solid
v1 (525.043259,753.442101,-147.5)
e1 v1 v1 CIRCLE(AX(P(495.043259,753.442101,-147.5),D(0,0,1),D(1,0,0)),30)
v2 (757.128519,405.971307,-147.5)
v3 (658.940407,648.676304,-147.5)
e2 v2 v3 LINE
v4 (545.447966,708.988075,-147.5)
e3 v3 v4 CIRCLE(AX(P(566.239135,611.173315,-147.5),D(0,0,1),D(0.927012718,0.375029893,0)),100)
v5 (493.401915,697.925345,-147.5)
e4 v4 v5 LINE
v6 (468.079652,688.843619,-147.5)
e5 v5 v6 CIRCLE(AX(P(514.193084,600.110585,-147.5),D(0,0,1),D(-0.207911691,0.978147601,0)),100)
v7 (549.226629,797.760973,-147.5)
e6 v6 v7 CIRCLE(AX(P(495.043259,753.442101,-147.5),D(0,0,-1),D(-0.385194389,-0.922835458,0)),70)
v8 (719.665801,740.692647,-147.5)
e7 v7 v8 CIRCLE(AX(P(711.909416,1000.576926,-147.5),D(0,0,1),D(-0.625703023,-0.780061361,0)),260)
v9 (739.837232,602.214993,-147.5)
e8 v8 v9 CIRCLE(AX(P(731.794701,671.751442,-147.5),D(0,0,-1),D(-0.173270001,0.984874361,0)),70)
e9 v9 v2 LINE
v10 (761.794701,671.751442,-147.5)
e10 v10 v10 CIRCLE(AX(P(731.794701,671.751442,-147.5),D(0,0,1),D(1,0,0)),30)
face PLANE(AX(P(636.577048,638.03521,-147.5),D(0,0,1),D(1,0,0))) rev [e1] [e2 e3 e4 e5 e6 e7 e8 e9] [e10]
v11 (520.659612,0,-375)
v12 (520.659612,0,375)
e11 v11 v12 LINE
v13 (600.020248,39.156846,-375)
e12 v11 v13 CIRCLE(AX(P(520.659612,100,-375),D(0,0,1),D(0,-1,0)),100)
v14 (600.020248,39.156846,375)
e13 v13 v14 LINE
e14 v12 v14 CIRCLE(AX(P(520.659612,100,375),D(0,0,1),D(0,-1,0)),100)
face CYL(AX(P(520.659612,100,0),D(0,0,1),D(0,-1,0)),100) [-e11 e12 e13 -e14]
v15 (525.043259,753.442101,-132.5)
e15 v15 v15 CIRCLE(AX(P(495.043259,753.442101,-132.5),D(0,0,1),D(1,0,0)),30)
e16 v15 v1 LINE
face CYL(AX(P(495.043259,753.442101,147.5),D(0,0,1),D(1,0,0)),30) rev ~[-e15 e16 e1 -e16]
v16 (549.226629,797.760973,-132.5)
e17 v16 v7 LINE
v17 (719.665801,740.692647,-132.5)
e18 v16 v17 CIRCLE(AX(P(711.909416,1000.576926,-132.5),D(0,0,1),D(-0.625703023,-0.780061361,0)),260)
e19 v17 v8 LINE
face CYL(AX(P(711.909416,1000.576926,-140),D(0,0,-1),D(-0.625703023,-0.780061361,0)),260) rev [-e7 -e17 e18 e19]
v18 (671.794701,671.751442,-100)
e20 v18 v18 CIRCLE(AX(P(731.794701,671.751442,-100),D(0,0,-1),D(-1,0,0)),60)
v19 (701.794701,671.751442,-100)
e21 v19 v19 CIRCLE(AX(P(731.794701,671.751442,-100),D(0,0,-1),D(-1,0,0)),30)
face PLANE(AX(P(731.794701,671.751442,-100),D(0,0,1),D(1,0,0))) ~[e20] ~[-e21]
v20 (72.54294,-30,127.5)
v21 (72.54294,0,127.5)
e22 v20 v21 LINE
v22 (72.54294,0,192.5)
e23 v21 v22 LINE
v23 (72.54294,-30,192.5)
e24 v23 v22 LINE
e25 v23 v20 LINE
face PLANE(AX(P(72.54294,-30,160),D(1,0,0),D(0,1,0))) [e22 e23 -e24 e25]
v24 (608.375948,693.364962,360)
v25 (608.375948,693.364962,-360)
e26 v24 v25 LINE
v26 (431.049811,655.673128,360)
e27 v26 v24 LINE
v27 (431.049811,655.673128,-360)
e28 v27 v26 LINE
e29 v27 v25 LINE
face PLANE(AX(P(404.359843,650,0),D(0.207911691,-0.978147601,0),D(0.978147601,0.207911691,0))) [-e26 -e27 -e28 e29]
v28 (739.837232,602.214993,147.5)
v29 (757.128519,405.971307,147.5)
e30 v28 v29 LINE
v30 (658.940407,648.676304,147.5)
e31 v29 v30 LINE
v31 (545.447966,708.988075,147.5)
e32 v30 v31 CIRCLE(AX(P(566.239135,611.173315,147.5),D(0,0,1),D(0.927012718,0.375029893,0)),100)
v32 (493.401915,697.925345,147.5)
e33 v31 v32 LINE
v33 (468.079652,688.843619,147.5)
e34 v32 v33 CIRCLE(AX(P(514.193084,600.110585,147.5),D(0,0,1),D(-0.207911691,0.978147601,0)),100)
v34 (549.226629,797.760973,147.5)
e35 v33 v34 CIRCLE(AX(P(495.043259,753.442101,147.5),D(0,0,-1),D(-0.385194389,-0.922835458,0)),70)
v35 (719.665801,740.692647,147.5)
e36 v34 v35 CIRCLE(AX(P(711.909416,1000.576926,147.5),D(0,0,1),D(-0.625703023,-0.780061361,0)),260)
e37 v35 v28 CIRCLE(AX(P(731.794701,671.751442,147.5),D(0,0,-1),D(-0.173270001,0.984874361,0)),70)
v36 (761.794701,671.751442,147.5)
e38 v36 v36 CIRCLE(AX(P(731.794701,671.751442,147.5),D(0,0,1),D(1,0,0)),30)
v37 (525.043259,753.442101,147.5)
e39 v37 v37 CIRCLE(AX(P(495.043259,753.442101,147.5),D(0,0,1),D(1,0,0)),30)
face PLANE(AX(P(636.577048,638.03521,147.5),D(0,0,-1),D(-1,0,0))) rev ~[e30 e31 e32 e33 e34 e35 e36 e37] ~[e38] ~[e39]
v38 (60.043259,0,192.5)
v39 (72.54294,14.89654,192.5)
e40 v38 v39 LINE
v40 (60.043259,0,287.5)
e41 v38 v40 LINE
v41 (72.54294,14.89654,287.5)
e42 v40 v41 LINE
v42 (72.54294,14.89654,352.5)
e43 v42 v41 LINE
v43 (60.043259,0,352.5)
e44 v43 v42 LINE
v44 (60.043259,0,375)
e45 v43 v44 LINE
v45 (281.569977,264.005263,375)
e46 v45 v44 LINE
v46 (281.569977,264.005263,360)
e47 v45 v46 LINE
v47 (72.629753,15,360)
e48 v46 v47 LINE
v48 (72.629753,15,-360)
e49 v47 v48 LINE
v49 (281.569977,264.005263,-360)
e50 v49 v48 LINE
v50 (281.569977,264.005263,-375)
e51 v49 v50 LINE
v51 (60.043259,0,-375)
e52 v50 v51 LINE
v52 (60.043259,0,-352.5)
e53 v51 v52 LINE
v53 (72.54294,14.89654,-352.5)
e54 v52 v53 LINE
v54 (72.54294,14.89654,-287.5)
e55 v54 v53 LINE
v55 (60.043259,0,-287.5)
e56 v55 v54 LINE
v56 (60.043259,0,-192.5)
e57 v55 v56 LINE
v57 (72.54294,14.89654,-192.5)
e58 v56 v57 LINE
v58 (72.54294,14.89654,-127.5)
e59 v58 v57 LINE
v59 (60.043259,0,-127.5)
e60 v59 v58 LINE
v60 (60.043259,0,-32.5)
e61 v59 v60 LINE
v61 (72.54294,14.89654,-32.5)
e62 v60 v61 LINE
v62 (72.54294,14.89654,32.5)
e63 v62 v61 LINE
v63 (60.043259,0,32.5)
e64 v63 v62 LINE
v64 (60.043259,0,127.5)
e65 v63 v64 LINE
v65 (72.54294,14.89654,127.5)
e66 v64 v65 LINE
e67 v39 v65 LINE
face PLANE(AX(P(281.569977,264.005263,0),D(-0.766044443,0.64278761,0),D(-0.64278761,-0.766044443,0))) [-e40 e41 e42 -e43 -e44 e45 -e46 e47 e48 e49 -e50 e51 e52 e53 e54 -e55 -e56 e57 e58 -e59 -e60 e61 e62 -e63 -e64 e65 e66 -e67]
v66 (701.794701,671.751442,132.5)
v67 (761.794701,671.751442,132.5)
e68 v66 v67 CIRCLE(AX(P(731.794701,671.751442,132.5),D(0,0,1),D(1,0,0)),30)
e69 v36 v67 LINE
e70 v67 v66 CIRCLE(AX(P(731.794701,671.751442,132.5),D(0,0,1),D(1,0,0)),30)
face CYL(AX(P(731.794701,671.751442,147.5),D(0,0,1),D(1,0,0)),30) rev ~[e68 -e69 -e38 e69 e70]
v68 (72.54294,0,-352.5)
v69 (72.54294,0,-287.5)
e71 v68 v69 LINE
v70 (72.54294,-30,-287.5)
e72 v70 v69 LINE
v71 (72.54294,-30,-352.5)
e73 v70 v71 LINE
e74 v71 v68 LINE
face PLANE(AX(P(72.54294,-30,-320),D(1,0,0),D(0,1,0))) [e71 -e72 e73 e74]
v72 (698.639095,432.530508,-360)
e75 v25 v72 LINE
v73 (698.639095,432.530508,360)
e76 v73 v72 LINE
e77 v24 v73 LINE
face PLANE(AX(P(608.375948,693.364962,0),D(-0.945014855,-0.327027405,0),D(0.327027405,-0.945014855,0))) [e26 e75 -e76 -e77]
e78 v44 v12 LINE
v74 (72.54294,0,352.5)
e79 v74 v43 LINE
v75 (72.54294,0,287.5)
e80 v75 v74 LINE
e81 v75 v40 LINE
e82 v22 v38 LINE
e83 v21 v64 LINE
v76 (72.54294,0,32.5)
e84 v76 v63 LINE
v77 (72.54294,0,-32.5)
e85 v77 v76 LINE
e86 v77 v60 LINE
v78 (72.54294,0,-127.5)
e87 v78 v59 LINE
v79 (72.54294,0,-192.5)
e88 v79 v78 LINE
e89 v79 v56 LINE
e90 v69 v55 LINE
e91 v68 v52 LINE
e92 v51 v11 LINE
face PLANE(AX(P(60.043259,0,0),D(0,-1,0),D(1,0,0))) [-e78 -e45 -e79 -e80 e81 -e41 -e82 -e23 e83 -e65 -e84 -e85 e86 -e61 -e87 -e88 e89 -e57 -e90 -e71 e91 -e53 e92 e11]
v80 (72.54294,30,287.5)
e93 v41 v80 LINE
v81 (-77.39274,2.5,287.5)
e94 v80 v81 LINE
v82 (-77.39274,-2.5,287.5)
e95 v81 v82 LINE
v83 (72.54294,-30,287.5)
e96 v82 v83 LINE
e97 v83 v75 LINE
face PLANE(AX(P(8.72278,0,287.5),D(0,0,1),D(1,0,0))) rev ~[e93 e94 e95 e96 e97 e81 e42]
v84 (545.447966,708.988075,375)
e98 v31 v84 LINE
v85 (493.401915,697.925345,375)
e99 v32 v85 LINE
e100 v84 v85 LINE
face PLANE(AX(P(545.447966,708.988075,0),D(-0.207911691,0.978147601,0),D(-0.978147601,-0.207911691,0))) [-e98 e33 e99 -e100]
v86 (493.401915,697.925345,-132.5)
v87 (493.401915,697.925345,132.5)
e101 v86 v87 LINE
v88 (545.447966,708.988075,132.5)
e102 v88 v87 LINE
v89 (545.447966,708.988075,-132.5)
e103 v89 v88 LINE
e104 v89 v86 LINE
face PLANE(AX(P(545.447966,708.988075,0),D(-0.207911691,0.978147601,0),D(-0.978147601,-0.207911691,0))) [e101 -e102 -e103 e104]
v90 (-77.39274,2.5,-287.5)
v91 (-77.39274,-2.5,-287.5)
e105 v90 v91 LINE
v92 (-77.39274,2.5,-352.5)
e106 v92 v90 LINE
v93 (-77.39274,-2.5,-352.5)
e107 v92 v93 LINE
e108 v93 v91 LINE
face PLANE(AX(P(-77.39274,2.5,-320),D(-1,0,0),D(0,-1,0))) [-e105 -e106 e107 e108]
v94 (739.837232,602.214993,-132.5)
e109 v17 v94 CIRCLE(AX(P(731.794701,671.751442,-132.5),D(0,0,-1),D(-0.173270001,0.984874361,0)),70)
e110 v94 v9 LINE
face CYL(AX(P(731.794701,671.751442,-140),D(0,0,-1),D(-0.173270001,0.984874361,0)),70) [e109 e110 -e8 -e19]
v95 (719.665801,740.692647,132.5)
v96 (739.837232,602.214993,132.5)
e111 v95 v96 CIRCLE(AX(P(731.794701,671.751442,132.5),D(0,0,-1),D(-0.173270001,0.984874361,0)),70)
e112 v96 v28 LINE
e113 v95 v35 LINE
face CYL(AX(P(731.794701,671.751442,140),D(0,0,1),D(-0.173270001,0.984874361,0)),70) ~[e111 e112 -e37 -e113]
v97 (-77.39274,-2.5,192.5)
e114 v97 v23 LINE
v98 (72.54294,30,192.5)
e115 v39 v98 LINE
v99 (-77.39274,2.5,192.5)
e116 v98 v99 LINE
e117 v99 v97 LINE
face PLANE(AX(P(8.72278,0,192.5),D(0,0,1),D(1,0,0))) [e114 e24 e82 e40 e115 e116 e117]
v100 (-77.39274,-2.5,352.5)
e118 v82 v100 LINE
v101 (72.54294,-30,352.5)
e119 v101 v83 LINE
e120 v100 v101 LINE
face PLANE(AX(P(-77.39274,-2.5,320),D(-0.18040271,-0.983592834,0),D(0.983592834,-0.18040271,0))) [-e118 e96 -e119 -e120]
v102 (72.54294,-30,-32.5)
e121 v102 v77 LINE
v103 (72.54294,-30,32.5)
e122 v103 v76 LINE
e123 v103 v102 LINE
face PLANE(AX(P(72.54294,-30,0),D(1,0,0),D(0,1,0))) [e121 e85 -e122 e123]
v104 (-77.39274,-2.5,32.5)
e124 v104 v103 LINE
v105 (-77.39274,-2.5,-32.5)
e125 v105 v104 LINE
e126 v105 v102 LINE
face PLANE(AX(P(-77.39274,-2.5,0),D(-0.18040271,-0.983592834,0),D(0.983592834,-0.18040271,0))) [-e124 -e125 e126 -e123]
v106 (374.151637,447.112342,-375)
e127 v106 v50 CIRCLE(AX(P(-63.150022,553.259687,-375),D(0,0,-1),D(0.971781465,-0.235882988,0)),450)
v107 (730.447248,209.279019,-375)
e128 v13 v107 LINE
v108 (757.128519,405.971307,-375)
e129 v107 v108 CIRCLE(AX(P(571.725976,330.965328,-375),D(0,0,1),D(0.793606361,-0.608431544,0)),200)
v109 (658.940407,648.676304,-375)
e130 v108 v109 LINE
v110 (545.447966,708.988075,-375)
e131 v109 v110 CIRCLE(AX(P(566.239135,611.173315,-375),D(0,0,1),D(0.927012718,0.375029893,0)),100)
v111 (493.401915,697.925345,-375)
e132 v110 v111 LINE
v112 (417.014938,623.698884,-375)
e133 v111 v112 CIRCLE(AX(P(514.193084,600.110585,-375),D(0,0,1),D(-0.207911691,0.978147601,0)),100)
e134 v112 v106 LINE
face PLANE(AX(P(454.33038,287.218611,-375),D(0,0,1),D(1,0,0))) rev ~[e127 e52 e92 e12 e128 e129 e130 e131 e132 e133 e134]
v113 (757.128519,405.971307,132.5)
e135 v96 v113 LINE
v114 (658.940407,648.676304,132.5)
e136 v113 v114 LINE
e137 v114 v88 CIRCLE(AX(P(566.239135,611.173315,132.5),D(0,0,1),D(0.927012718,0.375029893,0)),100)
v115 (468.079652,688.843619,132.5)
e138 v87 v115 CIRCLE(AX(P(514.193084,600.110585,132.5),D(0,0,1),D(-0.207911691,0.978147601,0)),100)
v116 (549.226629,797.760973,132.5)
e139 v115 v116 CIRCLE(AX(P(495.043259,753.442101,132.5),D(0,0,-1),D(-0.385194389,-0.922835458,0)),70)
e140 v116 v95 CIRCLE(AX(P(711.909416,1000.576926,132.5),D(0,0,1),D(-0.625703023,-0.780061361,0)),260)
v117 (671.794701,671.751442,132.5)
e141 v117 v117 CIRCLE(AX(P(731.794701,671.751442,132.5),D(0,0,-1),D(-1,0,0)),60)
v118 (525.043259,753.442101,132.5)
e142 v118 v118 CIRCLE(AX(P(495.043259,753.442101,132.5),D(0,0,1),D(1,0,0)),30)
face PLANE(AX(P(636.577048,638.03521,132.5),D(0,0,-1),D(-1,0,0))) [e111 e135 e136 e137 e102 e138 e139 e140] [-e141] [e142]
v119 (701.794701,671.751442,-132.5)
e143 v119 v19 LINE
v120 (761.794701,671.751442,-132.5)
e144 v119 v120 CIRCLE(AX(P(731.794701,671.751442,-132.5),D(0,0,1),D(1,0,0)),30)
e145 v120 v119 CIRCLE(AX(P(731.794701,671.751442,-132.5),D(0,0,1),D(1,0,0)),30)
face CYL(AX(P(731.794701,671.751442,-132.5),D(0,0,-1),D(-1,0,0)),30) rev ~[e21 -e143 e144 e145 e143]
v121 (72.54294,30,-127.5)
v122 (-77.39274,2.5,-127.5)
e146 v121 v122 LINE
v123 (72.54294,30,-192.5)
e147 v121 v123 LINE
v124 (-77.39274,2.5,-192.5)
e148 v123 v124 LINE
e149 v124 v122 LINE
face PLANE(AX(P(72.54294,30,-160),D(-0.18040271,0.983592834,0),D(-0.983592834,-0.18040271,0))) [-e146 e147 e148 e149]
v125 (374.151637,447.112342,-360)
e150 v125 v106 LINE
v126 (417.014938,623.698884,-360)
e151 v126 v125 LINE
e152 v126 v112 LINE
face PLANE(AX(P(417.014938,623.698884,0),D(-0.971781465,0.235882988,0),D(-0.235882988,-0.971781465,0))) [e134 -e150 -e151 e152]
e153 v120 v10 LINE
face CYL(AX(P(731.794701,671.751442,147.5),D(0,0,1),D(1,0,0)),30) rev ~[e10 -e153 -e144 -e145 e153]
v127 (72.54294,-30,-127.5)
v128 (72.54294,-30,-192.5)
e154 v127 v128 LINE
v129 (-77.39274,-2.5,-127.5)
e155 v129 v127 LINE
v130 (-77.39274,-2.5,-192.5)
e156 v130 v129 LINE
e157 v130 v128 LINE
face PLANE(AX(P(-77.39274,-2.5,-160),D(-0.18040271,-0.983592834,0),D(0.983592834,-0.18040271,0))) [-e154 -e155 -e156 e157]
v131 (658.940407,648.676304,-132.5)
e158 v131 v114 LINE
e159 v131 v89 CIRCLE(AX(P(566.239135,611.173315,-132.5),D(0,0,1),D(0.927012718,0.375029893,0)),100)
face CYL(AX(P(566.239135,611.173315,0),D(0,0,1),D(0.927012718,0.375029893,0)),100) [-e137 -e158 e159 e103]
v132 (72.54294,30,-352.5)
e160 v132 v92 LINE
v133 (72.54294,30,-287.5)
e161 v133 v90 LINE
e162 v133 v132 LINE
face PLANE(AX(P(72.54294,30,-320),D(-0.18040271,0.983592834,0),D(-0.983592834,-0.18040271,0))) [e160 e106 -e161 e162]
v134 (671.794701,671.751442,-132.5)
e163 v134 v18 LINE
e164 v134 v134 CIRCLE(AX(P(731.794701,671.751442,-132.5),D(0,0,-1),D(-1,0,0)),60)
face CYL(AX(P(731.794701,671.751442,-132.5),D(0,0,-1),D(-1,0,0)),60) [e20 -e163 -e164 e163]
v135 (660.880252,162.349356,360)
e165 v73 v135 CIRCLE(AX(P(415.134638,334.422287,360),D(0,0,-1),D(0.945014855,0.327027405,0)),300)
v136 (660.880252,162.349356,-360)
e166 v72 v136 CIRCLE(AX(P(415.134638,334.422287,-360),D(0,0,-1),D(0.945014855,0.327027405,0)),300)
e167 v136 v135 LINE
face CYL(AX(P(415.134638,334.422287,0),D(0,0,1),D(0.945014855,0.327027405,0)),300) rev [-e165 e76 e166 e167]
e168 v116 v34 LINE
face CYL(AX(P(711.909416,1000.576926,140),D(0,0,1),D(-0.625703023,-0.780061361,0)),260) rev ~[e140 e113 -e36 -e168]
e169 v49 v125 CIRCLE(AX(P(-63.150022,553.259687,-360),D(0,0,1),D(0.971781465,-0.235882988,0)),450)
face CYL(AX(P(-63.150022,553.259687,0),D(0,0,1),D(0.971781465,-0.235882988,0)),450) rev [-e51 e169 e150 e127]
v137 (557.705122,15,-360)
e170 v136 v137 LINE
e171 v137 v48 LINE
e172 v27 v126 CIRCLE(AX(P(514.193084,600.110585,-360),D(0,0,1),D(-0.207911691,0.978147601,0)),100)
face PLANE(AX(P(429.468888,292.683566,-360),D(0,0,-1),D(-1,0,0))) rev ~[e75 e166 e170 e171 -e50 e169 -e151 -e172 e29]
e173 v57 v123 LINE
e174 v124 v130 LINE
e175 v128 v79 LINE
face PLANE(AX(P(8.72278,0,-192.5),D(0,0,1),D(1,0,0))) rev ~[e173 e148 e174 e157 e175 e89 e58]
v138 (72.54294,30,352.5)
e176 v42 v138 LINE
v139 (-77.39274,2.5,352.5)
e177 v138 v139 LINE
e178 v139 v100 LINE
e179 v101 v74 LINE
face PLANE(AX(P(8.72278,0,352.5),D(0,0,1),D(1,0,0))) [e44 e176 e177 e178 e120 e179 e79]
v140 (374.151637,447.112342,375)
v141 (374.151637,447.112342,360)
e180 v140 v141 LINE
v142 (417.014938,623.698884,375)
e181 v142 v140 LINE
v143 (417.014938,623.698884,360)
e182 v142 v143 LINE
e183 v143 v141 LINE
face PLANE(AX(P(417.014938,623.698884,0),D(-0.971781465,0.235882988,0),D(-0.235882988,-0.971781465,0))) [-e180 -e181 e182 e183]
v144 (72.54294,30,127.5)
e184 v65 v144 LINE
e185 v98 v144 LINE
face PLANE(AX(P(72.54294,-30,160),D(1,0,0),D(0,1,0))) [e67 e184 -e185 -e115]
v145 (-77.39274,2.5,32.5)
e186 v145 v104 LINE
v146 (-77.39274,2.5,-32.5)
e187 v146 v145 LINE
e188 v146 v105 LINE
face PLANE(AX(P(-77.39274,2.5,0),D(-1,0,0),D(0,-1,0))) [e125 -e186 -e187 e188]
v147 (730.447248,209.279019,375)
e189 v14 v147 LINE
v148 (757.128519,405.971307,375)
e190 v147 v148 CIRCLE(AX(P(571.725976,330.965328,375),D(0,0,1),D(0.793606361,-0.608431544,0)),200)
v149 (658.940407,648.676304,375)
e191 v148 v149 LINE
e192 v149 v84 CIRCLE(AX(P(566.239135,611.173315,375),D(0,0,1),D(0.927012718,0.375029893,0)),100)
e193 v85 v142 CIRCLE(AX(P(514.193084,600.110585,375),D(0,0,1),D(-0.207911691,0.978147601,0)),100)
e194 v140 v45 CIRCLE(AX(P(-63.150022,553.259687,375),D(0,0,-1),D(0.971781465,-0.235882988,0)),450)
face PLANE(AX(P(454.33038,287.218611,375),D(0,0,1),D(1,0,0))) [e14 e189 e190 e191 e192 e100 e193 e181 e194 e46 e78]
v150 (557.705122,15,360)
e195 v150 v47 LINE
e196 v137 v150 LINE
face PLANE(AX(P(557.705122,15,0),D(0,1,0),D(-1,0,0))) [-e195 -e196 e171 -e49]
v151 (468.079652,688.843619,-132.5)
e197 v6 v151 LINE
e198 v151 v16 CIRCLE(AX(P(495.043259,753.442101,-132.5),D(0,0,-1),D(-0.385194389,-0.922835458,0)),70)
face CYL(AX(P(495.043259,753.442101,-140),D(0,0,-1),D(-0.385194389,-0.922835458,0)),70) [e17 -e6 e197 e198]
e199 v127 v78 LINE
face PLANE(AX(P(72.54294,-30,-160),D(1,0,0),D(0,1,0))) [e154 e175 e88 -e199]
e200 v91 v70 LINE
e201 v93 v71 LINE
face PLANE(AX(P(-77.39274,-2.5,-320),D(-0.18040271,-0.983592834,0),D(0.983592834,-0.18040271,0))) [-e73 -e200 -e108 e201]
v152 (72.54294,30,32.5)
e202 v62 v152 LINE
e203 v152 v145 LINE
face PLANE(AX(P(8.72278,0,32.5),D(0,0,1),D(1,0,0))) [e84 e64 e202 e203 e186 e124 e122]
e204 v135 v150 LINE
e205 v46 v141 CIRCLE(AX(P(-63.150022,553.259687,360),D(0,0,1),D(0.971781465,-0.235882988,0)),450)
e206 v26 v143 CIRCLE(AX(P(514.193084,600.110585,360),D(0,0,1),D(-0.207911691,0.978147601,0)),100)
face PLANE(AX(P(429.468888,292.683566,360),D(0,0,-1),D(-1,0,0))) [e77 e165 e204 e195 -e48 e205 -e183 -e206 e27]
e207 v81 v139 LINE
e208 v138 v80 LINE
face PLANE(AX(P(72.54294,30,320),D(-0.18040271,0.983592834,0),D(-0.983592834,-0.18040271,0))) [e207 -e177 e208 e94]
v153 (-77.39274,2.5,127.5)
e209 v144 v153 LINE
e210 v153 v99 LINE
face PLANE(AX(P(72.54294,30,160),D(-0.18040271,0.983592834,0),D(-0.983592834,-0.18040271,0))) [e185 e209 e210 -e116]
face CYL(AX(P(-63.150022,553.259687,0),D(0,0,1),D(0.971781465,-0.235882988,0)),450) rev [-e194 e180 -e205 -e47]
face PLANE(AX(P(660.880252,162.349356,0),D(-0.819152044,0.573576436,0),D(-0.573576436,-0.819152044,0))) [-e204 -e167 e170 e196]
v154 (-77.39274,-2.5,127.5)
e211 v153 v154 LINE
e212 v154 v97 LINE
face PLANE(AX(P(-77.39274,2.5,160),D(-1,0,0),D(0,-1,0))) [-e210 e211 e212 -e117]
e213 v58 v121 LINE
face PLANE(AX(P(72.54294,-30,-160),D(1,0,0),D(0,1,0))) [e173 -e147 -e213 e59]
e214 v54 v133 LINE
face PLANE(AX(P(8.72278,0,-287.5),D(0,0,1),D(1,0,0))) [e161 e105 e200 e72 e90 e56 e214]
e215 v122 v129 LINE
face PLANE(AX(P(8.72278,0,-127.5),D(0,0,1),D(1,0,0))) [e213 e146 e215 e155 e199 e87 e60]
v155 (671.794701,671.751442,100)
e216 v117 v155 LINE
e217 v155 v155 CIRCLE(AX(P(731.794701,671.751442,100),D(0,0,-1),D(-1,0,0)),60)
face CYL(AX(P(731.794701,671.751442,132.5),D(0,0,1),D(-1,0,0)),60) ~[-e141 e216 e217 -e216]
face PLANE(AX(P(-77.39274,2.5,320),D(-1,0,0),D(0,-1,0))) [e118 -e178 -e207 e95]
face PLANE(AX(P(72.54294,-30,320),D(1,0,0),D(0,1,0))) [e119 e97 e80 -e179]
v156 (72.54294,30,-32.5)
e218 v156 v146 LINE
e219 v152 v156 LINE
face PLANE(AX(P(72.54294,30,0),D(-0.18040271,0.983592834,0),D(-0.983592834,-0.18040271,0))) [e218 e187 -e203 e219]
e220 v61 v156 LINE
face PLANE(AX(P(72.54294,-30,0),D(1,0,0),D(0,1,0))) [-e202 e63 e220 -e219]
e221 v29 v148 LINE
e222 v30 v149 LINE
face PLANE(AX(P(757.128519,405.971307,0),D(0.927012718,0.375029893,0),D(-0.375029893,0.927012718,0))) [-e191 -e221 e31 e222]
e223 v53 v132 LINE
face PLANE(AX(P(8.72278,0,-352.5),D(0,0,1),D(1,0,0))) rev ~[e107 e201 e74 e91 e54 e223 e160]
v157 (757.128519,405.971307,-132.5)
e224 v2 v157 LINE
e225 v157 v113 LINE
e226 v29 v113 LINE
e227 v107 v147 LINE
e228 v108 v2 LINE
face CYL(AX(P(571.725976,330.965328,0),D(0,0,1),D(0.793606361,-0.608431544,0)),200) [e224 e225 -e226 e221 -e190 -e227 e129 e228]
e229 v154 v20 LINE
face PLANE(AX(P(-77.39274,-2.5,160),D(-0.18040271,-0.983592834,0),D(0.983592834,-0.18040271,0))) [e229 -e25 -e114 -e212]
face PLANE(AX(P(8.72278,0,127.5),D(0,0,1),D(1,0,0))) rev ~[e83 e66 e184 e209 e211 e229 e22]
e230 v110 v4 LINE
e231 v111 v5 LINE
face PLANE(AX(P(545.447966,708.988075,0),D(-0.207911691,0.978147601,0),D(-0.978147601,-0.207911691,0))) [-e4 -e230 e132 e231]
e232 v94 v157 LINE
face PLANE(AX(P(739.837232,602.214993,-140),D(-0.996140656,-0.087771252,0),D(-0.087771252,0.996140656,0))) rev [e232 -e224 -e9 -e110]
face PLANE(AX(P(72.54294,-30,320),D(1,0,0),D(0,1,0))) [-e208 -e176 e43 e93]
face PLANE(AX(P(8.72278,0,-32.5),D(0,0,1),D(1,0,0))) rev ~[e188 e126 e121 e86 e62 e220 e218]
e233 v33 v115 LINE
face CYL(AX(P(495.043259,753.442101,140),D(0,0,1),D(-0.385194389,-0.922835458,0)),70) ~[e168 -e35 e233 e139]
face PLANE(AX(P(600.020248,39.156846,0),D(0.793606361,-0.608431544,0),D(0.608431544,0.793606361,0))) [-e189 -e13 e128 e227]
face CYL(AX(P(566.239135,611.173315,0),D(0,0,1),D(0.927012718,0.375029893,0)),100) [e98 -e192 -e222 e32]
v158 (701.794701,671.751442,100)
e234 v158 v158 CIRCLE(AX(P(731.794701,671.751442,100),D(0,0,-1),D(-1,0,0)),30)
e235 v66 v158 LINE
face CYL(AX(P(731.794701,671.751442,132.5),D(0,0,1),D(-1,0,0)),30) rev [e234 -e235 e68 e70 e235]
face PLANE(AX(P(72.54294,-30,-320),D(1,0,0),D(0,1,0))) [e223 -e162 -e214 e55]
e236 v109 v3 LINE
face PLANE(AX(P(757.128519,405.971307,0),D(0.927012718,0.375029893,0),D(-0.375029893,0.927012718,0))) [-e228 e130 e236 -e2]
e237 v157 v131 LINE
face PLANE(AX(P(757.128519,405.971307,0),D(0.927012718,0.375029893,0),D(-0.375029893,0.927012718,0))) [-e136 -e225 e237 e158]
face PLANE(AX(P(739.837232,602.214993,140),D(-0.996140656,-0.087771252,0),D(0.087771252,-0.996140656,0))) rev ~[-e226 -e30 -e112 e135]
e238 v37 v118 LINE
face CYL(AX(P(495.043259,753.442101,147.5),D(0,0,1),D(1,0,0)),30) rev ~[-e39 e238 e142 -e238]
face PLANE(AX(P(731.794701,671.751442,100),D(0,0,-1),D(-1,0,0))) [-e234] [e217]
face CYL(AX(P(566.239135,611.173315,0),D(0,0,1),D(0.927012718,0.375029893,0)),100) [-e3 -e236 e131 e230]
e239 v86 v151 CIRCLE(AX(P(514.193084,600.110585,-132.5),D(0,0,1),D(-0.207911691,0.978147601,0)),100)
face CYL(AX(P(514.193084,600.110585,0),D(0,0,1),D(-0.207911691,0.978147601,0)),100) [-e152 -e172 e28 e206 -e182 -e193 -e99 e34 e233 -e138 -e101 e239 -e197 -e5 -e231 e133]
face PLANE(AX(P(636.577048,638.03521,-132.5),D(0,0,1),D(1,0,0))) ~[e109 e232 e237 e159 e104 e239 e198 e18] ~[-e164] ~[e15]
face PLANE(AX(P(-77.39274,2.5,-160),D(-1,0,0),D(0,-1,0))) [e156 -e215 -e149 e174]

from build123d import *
from build123d.topology import SkipClean

# Parameters (mm, degrees)
BOSS_EXTRUDE4_DEPTH  = 375
BOSS_EXTRUDE5_DEPTH  = 7.5
CUT_EXTRUDE1_DEPTH   = 360
BOSS_EXTRUDE6_DEPTH  = 32.5
LPATTERN1_COUNT      = 3
LPATTERN1_PITCH      = 160
LPATTERN1_COUNT_DIR2 = 3
LPATTERN1_PITCH_DIR2 = 160
SKETCH11_R           = 30
CUT_EXTRUDE2_DEPTH   = 1263.512529339
SKETCH12_R           = 60
SKETCH12_R_2         = 30
BOSS_EXTRUDE7_DEPTH  = 32.5


with BuildPart() as part:
    # Sketch1 → Boss-Extrude4 (new, symmetric)
    with BuildSketch(Plane.XY):
        with BuildLine():
            Line((281.569977344, 264.00526259), (60.043258876, 0))
            Line((60.043258876, 0), (520.65961219, 0))
            ThreePointArc((520.65961219, 0), (564.907123778, 10.321921752), (600.02024832, 39.156845634))
            Line((600.02024832, 39.156845634), (730.44724808, 209.279019234))
            ThreePointArc((730.44724808, 209.279019234), (769.910899903, 304.081580706), (757.128519442, 405.97130652))
            Line((757.128519442, 405.97130652), (658.940406775, 648.676304078))
            ThreePointArc((658.940406775, 648.676304078), (613.16613298, 699.478789474), (545.447965883, 708.988074874))
            Line((545.447965883, 708.988074874), (493.401915404, 697.925345336))
            ThreePointArc((493.401915404, 697.925345336), (444.503904969, 671.828213907), (417.014937982, 623.698884104))
            Line((417.014937982, 623.698884104), (374.151637205, 447.112342165))
            ThreePointArc((374.151637205, 447.112342165), (338.436231819, 350.211710608), (281.569977344, 264.00526259))
        make_face()
    extrude(amount=BOSS_EXTRUDE4_DEPTH, both=True)

    # Sketch6 → Boss-Extrude5 (add, symmetric)
    with BuildSketch(Plane.XY.offset(140)):
        with BuildLine():
            Line((739.837232288, 602.21499348), (757.128519442, 405.97130652))
            Line((757.128519442, 405.97130652), (468.079651675, 688.843619215))
            ThreePointArc((468.079651675, 688.843619215), (438.909700759, 795.263431413), (549.226629435, 797.76097261))
            ThreePointArc((549.226629435, 797.76097261), (629.357941615, 754.030269249), (719.665800913, 740.692647386))
            ThreePointArc((719.665800913, 740.692647386), (801.063667795, 681.841548153), (739.837232288, 602.21499348))
        make_face()
    boss_extrude5 = extrude(amount=BOSS_EXTRUDE5_DEPTH, both=True)

    # Mirror2: Boss-Extrude5 across plane
    add(boss_extrude5.mirror(Plane.XY))

    # Sketch7 → Cut-Extrude1 (cut, symmetric)
    with BuildSketch(Plane.XY):
        with BuildLine():
            Line((60.410578327, 15), (329.990480538, 400))
            Line((329.990480538, 400), (404.359842809, 650))
            Line((404.359842809, 650), (608.375948196, 693.364961886))
            Line((608.375948196, 693.364961886), (698.639094975, 432.530508414))
            ThreePointArc((698.639094975, 432.530508414), (712.247197771, 292.899677108), (660.880251772, 162.349355884))
            Line((660.880251772, 162.349355884), (557.705122032, 15))
            Line((557.705122032, 15), (60.410578327, 15))
        make_face()
    extrude(amount=CUT_EXTRUDE1_DEPTH, both=True, mode=Mode.SUBTRACT)

    # Sketch10 → Boss-Extrude6 (add, symmetric)
    with BuildSketch(Plane.XY):
        Polygon((72.542939803, 30), (-77.392739815, 2.5), (-77.392739815, -2.5), (72.542939803, -30), (72.542939803, 0), align=None)
    boss_extrude6 = extrude(amount=BOSS_EXTRUDE6_DEPTH, both=True)

    # LPattern1: Boss-Extrude6 3 × 3
    with Locations(*[Vector(0, 0, 1) * (i * LPATTERN1_PITCH) + Vector(0, 0, -1) * (j * LPATTERN1_PITCH_DIR2) for i in range(LPATTERN1_COUNT) for j in range(LPATTERN1_COUNT_DIR2) if (i, j) != (0, 0)]):
        add(boss_extrude6)

    # Sketch11 → Cut-Extrude2 (cut, through all)
    with BuildSketch(Plane.XY.offset(147.5)):
        with Locations((495.043258876, 753.442101292)):
            Circle(SKETCH11_R)
        with Locations((731.794701004, 671.751442127)):
            Circle(SKETCH11_R)
    extrude(amount=-CUT_EXTRUDE2_DEPTH, mode=Mode.SUBTRACT)

    # Sketch12 → Boss-Extrude7 (add)
    with SkipClean():  # the faces are left unmerged after this step: merging them gives an invalid solid
        with BuildSketch(Plane(origin=(0, 0, 132.5), x_dir=(-1, 0, 0), z_dir=(0, 0, -1))):
            with Locations((-731.794701004, 671.751442127)):
                Circle(SKETCH12_R)
            with Locations((-731.794701004, 671.751442127)):
                Circle(SKETCH12_R_2, mode=Mode.SUBTRACT)
        boss_extrude7 = extrude(amount=BOSS_EXTRUDE7_DEPTH)

    # Mirror3: Boss-Extrude7 across plane
    add(boss_extrude7.mirror(Plane.XY))


solid = part.part
